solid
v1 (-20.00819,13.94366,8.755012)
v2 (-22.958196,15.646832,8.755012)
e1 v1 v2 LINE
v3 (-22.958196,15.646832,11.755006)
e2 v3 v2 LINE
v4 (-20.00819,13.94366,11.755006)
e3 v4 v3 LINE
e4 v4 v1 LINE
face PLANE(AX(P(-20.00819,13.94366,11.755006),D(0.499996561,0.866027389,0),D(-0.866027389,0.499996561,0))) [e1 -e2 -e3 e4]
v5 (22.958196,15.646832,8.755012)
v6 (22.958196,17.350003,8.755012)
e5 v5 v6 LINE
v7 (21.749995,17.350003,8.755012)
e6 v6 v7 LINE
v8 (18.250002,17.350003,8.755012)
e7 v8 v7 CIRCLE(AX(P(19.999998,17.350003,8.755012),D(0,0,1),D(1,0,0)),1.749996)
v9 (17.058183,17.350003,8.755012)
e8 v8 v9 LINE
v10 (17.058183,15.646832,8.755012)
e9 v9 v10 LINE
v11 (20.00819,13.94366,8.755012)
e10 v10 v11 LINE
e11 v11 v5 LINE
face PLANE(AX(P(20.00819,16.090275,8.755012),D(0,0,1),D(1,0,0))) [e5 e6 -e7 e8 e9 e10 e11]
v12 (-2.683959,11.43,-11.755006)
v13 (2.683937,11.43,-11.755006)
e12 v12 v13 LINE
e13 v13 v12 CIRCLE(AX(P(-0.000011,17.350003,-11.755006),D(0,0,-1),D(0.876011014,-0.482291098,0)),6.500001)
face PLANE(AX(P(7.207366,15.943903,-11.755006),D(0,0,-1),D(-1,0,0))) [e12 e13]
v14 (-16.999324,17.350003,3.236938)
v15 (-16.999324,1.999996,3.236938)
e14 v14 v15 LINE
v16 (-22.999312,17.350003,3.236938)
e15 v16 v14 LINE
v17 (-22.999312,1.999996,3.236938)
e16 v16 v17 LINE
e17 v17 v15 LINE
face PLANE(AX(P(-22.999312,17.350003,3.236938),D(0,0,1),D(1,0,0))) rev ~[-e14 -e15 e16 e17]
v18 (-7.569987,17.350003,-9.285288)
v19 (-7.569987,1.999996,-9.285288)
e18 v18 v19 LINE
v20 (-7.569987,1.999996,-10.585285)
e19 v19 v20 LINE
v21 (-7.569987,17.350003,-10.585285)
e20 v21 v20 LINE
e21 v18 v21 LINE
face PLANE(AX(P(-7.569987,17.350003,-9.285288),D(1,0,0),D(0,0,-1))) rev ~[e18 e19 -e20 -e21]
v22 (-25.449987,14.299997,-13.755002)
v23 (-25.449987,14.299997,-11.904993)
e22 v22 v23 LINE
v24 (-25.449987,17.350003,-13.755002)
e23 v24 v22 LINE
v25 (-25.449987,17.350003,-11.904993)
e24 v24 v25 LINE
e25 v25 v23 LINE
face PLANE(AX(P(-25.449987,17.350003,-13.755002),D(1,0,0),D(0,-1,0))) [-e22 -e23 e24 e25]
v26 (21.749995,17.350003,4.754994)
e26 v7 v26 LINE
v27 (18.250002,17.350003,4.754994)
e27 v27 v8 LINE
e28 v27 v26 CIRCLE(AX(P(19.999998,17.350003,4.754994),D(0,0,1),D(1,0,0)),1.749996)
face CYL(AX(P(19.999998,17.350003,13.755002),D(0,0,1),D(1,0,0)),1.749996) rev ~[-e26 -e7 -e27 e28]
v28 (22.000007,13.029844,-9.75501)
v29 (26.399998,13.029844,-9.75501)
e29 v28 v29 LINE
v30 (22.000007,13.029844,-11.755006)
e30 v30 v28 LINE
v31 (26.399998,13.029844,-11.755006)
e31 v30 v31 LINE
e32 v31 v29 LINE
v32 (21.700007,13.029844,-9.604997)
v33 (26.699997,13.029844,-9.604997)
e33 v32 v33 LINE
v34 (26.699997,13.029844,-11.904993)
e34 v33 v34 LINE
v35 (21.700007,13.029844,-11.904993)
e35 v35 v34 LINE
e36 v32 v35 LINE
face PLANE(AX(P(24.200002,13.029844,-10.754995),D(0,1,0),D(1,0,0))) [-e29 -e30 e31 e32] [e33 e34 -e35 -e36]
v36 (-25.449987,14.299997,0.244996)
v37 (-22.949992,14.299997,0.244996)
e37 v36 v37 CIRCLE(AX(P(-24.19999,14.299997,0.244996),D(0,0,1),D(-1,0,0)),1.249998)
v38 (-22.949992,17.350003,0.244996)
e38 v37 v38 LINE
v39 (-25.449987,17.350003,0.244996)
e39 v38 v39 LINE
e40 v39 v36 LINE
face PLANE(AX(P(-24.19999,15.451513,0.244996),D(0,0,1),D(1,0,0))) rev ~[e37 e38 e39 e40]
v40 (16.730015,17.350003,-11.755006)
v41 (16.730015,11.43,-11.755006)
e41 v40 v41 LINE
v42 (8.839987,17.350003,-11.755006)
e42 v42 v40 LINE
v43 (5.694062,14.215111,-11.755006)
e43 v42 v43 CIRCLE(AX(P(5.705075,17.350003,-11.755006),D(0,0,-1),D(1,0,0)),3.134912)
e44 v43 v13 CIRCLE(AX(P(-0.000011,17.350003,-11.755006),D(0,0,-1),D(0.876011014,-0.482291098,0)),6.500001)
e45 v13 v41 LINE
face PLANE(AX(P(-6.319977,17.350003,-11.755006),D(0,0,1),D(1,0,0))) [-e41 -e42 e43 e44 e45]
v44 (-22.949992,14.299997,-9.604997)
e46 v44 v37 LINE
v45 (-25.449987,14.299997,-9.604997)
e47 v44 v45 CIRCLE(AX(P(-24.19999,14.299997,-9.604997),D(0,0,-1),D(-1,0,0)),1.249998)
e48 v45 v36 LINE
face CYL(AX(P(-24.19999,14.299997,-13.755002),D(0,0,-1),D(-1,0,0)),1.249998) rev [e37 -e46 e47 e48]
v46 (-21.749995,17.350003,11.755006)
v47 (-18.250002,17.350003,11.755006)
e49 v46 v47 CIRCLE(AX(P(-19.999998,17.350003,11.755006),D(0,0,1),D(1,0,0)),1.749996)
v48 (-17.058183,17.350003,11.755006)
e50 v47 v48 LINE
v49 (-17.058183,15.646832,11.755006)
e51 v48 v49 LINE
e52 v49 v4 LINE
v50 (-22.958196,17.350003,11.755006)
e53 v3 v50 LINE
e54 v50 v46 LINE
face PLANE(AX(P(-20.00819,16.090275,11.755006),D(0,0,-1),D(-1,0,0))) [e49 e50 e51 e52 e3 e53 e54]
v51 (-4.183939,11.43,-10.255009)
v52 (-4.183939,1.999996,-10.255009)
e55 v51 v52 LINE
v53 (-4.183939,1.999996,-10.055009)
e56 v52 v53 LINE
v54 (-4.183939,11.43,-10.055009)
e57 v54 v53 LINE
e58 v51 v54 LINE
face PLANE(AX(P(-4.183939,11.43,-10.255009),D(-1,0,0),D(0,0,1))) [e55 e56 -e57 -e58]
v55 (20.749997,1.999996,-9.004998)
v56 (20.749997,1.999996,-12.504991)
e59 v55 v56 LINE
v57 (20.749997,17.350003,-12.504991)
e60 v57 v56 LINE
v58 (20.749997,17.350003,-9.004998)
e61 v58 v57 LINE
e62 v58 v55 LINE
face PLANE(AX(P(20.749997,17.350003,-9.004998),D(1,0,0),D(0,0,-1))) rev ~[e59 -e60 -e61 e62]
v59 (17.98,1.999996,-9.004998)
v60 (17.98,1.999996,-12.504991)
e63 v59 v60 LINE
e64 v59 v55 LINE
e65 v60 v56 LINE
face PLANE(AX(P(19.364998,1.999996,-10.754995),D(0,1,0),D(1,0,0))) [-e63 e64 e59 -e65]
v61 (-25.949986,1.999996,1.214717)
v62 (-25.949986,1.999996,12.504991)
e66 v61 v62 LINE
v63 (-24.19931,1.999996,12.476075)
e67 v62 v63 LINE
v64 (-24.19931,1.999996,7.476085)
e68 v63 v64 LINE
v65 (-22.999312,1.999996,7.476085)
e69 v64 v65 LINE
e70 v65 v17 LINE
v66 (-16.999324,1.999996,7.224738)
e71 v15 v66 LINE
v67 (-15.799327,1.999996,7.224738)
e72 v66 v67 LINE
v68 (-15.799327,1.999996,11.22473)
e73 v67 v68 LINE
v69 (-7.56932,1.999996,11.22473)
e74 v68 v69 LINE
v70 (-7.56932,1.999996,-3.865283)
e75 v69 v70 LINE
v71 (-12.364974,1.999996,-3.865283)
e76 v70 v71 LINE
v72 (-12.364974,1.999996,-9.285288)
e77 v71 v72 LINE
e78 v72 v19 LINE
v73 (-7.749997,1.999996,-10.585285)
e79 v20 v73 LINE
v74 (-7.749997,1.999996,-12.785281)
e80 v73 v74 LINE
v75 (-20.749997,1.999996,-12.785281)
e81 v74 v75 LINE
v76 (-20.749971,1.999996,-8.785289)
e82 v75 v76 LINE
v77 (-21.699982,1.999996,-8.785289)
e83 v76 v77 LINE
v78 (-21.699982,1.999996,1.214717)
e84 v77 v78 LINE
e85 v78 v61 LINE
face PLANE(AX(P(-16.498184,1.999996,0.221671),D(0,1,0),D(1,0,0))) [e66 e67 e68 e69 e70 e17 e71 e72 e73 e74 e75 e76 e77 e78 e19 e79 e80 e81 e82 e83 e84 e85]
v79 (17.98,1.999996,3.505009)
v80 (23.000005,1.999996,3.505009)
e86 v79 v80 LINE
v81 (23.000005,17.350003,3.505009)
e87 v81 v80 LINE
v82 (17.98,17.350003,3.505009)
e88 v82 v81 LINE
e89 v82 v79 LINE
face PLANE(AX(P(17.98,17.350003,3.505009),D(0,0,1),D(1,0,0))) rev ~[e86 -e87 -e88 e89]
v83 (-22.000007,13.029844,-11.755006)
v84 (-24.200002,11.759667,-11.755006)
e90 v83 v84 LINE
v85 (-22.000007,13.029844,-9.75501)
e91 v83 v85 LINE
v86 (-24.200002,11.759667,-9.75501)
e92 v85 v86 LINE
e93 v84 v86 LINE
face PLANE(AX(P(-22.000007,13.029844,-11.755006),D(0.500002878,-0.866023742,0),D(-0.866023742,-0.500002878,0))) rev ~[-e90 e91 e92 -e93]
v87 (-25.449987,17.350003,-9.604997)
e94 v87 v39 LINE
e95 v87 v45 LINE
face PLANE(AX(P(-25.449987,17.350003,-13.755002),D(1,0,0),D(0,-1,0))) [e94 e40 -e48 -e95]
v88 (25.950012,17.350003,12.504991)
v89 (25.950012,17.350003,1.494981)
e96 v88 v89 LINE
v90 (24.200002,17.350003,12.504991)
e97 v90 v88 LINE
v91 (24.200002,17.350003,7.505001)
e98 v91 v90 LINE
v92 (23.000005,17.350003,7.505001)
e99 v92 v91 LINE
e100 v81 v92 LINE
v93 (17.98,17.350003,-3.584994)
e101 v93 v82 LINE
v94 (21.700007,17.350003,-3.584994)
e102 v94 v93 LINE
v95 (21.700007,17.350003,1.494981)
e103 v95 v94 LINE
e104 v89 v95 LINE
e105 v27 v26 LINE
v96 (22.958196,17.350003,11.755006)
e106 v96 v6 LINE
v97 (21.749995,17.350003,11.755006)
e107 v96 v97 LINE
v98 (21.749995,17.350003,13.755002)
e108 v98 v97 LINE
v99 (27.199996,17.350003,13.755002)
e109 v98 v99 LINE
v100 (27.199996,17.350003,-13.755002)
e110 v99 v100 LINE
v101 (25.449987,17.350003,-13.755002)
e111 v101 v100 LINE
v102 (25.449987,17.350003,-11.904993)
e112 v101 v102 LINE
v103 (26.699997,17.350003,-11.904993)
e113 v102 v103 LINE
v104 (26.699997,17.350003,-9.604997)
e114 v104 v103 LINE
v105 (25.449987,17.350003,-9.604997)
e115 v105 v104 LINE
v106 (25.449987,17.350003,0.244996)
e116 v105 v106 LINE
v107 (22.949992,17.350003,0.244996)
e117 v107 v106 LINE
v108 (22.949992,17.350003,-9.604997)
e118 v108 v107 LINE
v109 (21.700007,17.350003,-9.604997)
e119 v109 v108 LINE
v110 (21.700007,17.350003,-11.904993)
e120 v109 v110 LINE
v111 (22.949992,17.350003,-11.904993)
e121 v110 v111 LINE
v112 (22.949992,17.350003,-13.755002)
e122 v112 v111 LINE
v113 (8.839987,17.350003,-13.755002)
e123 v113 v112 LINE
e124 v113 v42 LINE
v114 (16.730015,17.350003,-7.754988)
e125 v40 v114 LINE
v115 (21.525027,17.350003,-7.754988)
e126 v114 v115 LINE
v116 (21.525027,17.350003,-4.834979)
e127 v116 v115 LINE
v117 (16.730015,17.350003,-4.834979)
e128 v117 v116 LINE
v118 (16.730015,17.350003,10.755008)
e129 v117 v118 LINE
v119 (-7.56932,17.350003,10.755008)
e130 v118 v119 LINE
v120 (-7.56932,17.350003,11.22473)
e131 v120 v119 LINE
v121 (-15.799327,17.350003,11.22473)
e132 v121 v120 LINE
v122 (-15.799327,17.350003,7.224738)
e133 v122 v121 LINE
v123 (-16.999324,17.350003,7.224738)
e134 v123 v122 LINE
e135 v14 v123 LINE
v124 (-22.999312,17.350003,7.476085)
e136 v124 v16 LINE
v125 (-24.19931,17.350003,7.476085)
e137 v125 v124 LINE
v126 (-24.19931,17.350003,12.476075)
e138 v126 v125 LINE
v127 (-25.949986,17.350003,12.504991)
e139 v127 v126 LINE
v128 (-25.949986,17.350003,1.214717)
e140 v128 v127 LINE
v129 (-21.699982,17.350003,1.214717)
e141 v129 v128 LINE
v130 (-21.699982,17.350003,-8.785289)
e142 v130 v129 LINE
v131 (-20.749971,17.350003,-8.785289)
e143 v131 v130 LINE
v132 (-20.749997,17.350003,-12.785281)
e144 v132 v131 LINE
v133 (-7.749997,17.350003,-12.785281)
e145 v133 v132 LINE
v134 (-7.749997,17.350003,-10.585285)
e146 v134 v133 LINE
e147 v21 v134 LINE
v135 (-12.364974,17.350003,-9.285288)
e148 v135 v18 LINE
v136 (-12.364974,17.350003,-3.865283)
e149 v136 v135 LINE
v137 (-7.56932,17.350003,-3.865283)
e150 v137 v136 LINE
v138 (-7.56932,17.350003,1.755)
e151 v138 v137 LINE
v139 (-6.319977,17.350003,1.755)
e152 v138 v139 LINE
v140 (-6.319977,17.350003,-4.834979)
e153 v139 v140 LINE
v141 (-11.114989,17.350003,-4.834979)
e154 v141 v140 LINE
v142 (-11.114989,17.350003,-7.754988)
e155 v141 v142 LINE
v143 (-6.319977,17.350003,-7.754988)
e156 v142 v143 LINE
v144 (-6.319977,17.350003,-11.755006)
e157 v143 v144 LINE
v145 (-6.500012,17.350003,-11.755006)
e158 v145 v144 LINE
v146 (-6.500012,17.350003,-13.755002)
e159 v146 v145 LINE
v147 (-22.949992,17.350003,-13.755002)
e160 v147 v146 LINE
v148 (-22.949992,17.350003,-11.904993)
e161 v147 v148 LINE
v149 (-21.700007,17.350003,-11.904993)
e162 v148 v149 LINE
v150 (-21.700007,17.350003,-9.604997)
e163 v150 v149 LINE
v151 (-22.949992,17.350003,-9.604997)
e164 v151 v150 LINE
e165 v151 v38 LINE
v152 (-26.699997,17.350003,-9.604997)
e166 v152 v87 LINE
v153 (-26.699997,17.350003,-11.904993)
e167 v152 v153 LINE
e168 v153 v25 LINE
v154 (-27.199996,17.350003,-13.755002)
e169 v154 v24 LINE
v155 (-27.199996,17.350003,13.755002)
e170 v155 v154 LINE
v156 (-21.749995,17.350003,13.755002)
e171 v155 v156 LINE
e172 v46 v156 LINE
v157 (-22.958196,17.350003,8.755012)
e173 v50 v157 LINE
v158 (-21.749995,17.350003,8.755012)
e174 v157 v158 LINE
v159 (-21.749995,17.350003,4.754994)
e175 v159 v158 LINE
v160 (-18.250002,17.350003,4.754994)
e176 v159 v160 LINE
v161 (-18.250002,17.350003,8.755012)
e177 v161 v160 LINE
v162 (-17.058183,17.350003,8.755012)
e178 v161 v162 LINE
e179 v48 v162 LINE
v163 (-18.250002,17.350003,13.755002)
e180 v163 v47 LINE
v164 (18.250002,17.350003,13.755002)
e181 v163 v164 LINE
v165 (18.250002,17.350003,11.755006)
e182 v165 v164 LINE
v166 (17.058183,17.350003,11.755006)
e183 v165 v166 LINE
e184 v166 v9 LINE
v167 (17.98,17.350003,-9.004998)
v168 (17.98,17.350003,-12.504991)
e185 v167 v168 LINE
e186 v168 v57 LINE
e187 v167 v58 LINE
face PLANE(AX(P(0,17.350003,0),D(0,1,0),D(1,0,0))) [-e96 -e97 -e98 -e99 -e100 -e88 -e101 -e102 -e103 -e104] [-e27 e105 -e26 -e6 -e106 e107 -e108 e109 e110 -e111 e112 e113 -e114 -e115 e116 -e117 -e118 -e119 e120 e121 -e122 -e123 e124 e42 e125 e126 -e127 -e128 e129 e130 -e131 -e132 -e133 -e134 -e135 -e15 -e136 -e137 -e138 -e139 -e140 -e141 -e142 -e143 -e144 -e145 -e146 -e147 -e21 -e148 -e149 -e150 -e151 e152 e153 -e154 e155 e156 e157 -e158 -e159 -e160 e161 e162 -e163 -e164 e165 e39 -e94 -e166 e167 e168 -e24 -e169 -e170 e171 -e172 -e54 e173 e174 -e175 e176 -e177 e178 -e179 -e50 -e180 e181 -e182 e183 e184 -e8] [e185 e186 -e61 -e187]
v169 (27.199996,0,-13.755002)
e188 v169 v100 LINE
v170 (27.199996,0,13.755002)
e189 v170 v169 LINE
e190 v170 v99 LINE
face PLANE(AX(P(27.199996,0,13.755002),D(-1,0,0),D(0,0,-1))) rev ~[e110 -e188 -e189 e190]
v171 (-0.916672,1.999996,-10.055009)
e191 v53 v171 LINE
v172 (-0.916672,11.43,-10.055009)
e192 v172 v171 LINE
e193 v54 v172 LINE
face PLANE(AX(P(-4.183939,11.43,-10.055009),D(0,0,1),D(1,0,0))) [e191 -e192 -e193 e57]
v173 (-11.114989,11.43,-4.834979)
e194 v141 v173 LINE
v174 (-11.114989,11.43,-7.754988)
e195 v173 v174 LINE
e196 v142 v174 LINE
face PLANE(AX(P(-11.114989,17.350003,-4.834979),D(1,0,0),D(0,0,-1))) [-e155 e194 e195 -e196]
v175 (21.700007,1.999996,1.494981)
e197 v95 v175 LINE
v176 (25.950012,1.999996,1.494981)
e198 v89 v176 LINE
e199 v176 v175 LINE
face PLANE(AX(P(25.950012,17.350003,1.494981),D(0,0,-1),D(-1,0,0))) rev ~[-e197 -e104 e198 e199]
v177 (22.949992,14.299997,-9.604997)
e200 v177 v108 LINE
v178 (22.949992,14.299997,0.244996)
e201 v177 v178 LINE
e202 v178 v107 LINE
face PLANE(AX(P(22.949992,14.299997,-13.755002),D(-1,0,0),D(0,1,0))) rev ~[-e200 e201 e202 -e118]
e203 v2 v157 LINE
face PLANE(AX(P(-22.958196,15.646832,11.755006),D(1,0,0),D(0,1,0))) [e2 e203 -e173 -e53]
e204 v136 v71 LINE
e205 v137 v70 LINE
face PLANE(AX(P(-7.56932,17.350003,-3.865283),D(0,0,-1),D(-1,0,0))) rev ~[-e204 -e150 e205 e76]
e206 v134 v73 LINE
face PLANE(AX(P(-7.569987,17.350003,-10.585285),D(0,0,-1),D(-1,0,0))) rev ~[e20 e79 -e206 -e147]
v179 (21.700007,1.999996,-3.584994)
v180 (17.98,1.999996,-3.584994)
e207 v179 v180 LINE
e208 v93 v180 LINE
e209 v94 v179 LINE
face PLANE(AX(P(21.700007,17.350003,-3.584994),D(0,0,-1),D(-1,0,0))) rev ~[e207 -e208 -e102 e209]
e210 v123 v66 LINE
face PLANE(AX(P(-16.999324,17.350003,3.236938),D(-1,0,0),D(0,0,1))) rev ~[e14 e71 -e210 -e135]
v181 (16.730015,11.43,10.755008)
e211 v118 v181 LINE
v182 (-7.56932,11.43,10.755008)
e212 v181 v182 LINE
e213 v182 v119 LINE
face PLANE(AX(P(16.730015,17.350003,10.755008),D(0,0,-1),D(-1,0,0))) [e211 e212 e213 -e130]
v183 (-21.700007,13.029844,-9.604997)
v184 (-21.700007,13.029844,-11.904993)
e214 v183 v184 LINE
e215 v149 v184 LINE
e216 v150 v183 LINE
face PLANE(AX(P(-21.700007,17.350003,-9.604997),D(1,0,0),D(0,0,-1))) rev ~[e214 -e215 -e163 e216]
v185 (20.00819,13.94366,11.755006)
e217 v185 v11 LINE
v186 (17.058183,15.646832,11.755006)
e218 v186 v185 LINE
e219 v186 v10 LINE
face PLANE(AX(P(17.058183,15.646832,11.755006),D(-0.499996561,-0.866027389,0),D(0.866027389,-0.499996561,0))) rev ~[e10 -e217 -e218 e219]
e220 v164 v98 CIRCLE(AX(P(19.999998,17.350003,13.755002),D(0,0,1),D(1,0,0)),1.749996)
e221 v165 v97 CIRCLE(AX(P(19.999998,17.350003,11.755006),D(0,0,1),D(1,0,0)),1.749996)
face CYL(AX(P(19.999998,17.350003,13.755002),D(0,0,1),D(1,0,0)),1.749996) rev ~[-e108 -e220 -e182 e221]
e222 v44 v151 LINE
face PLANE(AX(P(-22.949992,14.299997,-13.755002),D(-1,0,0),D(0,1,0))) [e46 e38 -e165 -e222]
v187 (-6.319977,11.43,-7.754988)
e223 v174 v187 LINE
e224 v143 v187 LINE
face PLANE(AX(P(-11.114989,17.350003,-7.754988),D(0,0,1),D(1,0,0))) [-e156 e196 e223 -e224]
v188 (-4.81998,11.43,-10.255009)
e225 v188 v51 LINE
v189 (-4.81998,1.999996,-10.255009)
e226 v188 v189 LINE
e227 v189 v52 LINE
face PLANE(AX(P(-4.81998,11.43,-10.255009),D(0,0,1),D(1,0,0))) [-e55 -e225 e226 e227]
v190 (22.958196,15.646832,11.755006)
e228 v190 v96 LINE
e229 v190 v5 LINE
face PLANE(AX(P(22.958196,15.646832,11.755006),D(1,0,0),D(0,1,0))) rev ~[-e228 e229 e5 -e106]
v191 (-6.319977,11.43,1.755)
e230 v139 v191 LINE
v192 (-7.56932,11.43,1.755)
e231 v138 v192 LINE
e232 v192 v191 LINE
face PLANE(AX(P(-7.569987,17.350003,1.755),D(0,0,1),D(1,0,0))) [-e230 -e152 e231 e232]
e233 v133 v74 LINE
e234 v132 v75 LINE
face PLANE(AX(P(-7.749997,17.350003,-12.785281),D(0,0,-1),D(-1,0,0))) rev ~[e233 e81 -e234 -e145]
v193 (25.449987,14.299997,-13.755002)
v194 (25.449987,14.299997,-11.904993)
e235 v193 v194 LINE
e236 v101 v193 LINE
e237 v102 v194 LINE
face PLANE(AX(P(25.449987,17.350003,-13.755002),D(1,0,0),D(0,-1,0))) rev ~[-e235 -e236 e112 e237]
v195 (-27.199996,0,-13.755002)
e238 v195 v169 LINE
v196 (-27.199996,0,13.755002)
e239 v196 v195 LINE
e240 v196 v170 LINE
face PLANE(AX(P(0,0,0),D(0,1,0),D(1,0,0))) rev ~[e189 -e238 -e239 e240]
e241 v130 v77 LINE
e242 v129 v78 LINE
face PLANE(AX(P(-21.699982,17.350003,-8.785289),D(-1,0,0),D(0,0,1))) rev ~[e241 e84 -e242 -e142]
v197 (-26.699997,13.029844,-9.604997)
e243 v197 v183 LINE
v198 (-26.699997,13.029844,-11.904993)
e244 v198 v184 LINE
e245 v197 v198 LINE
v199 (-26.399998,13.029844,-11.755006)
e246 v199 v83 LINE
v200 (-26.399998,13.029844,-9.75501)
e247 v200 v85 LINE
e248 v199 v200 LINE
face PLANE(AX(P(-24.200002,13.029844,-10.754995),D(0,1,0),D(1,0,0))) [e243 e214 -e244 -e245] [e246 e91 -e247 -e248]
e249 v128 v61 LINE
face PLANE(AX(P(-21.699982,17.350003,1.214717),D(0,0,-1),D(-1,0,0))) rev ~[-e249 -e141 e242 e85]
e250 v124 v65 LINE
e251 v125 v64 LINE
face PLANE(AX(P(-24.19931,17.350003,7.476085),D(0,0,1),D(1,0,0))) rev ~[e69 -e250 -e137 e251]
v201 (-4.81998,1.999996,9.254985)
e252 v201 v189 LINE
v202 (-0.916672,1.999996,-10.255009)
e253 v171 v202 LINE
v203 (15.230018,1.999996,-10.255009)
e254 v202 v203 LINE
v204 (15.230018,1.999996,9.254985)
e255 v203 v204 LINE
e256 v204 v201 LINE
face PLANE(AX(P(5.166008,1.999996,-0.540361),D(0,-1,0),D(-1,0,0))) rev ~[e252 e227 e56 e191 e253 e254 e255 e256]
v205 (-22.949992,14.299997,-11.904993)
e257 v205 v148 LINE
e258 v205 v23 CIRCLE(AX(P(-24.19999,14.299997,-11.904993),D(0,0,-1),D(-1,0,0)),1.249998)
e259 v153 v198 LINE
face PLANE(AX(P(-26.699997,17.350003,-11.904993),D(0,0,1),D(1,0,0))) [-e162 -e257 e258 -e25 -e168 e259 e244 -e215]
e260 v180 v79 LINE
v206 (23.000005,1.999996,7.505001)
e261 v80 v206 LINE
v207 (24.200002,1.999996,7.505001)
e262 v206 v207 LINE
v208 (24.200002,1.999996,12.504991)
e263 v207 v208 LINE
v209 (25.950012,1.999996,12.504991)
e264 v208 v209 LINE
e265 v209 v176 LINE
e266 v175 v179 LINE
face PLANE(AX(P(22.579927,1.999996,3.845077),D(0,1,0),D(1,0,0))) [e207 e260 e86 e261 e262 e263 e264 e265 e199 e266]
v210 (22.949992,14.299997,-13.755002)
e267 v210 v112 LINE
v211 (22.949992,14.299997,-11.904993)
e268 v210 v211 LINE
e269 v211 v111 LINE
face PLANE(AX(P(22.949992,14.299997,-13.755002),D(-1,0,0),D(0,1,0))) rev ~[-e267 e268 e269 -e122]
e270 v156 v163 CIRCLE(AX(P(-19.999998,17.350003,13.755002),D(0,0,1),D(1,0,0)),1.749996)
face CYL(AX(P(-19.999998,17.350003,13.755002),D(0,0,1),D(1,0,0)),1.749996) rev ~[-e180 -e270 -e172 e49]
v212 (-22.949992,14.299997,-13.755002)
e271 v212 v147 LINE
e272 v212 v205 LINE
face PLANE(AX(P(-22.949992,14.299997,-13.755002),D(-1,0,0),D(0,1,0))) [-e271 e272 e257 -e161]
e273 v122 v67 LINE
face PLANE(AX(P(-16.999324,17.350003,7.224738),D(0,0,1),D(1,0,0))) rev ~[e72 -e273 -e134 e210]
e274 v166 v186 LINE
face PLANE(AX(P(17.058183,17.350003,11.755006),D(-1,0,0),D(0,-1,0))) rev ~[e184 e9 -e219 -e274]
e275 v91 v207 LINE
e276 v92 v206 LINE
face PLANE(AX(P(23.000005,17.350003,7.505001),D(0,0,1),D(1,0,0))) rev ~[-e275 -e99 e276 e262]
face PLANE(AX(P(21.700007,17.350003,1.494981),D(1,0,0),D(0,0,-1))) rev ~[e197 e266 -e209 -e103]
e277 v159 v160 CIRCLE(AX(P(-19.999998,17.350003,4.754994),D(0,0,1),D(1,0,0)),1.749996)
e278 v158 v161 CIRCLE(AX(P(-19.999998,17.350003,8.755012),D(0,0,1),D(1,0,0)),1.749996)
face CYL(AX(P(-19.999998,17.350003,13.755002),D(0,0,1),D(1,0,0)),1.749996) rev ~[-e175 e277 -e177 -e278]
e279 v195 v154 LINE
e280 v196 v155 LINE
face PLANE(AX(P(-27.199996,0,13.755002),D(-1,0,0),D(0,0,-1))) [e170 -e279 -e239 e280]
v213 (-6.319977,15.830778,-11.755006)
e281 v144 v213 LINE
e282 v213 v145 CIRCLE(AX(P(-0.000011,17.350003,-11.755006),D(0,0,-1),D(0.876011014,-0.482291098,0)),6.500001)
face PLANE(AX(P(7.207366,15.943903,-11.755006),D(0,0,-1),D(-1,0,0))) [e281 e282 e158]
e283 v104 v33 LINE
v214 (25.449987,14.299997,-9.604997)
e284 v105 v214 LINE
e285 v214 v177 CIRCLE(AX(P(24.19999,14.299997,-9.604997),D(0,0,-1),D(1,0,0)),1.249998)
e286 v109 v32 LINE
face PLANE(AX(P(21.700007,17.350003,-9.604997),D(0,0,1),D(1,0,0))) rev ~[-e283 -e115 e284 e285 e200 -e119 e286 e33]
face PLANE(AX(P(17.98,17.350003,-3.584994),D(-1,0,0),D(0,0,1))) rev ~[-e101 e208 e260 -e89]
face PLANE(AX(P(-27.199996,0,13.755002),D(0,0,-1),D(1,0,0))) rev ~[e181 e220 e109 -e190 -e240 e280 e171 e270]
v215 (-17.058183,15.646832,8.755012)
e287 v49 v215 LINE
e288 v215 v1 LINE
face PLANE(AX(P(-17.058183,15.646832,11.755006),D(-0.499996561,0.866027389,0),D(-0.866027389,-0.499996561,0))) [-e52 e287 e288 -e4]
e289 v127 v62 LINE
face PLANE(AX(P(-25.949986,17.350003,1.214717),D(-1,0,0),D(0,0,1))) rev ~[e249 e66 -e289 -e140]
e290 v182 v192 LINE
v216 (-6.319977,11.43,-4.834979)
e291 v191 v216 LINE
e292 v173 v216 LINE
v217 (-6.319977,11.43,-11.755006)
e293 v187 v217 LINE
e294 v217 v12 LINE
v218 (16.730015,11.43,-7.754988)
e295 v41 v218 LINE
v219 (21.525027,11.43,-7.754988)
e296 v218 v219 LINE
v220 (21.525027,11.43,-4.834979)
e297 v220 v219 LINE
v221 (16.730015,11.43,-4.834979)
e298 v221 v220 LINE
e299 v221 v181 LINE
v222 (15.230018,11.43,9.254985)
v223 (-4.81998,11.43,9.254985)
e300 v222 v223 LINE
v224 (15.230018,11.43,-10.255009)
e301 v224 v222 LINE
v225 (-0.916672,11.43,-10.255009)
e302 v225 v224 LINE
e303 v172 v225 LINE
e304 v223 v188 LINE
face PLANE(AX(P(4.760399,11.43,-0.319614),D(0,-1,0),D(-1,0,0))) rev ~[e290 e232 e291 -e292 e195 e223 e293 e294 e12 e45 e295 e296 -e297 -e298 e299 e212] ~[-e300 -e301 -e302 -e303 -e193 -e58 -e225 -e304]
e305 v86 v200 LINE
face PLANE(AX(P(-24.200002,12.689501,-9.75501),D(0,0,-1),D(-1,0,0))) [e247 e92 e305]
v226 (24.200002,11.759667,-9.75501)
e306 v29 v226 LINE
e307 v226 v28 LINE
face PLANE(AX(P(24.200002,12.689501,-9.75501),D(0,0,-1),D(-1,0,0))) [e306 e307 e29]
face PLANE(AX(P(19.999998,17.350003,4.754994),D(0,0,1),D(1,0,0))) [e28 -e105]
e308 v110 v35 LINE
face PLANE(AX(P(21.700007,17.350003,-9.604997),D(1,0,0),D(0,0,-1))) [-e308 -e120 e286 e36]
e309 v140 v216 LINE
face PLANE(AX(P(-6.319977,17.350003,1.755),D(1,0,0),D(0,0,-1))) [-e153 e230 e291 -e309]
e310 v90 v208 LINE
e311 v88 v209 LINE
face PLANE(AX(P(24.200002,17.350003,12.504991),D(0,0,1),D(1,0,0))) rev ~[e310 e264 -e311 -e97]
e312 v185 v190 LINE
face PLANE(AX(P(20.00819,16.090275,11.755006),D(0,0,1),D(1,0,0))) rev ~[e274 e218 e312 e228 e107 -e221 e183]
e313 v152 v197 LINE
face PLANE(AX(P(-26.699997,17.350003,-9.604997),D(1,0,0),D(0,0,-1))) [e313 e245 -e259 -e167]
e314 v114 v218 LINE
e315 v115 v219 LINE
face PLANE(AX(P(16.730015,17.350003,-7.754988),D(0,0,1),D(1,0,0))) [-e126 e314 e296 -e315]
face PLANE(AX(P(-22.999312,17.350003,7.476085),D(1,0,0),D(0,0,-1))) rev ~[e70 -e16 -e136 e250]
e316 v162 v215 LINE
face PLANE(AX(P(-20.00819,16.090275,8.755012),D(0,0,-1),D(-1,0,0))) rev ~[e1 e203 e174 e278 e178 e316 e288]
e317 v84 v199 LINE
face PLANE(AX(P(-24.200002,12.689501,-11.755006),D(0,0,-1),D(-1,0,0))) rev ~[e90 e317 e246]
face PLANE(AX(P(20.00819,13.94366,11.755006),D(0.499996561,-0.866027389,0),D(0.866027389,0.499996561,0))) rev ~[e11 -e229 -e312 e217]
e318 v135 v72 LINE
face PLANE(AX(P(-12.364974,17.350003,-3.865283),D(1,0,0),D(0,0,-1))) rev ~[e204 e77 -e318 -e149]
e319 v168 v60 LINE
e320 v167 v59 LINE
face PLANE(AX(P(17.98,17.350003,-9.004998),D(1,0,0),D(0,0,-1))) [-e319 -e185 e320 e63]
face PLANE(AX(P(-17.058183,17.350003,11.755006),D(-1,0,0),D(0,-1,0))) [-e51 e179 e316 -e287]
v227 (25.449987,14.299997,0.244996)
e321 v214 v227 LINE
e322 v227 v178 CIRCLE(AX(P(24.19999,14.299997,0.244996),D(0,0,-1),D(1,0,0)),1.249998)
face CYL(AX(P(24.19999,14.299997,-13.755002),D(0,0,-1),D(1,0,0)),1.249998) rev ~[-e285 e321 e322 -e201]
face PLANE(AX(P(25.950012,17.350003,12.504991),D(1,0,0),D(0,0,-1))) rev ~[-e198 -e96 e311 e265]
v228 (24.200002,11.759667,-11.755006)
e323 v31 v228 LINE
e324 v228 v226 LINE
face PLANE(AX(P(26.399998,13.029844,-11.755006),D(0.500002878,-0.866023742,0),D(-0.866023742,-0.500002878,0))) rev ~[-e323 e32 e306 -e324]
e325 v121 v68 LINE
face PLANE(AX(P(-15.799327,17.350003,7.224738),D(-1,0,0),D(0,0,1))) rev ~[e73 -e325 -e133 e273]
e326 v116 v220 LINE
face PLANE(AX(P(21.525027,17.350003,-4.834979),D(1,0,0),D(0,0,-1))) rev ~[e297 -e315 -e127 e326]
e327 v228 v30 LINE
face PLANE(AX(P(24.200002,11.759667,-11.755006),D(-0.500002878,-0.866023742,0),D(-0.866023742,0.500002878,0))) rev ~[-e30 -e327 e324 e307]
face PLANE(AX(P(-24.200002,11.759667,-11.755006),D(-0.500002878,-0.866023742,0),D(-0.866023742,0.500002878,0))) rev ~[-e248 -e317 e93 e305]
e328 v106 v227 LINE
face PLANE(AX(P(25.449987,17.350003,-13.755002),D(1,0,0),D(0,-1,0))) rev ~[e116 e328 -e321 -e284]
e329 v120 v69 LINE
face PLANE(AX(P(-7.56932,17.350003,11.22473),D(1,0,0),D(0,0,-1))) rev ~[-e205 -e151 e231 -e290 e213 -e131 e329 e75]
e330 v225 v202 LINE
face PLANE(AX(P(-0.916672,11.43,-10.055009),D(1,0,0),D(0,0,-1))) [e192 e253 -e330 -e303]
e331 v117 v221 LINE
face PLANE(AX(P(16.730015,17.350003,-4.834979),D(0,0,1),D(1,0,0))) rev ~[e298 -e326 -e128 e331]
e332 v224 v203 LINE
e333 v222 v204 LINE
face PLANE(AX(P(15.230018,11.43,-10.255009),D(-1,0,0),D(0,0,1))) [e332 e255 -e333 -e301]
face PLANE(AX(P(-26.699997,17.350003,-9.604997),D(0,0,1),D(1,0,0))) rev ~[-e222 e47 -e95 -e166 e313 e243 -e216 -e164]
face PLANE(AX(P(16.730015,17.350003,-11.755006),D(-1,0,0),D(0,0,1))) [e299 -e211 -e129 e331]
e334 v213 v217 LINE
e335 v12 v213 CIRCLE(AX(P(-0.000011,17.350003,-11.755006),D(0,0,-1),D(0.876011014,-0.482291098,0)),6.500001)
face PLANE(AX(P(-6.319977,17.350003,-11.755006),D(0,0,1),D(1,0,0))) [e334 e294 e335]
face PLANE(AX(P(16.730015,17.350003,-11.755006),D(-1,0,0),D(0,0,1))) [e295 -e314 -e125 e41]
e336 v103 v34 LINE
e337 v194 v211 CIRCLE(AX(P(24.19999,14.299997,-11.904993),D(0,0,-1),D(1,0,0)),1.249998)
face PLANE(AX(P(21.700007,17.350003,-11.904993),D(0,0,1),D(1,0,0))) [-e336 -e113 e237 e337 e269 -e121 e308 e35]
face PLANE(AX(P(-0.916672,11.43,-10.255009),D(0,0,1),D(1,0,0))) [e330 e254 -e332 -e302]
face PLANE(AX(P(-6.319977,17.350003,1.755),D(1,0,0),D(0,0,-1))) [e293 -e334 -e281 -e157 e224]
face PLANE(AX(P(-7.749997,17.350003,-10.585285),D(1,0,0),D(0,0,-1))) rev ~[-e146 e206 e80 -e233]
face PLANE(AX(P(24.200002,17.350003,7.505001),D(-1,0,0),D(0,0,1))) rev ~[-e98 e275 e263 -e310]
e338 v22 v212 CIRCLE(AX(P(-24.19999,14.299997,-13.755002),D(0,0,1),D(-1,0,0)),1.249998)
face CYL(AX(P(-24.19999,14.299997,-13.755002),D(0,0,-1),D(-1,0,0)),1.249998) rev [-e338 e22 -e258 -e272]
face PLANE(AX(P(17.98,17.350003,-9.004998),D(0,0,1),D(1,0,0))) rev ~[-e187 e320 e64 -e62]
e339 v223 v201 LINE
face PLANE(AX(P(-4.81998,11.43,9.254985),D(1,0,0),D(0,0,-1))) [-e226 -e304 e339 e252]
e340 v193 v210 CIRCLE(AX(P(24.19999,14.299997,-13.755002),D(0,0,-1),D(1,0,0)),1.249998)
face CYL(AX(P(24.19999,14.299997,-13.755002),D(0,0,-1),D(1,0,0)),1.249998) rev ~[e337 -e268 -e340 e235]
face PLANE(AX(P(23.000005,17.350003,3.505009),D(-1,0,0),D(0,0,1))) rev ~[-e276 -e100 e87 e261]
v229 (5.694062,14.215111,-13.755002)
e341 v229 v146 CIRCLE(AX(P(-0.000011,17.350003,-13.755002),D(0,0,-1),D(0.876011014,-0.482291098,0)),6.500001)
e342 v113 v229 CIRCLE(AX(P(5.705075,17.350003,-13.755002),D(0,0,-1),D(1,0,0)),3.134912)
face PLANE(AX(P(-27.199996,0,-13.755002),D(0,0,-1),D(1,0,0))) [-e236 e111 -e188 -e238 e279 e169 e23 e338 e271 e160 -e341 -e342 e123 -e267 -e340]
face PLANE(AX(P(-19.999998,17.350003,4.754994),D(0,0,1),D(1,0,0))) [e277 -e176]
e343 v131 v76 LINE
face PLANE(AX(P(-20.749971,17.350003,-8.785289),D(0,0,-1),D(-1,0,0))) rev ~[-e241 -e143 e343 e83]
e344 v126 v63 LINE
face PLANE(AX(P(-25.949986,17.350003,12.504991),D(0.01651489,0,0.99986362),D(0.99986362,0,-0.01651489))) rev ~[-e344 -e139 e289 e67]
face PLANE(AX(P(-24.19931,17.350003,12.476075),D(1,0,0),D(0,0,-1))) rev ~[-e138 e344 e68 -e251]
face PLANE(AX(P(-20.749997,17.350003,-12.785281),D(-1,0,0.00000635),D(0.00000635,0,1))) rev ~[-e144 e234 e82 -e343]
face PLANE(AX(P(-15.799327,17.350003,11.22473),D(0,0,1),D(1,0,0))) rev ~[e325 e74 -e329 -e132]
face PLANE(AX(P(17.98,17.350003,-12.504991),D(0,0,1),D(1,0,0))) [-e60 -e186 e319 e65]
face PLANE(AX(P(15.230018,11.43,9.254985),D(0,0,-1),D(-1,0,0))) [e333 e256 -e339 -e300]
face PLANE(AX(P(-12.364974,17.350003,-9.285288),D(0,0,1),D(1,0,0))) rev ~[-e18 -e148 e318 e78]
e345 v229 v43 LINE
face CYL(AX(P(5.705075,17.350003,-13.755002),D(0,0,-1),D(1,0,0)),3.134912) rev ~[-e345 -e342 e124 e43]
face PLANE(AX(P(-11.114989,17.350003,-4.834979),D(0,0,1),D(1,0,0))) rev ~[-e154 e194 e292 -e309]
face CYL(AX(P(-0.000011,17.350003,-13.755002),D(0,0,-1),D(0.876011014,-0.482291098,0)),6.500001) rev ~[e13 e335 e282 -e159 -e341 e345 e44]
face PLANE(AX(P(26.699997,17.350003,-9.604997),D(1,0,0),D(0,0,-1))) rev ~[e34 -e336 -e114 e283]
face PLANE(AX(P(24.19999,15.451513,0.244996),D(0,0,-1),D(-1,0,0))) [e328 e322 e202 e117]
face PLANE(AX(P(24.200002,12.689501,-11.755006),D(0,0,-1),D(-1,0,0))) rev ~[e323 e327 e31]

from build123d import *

# Parameters (mm, degrees)
SKETCH1_W           = 54.3999928
SKETCH1_H           = 27.5100034
BOSS_EXTRUDE1_DEPTH = 17.3500034
CUT_EXTRUDE1_DEPTH  = 15.3500074
CUT_EXTRUDE2_DEPTH  = 5.9200034
CUT_EXTRUDE3_DEPTH  = 9.430004
SKETCH5_W           = 4.795012
SKETCH5_H           = 2.9200094
CUT_EXTRUDE4_DEPTH  = 5.9200034
SKETCH6_W           = 2.769997
SKETCH6_H           = 3.499993
CUT_EXTRUDE5_DEPTH  = 15.3500074
CUT_EXTRUDE6_DEPTH  = 15.3500074
SKETCH8_R           = 1.7499965
CUT_EXTRUDE7_DEPTH  = 9.0000074
CUT_EXTRUDE8_DEPTH  = 13.9999974
SKETCH10_W          = 4.99999
SKETCH10_H          = 2.2999954
CUT_EXTRUDE9_DEPTH  = 4.320159
CUT_EXTRUDE10_DEPTH = 1.999996
CUT_EXTRUDE11_DEPTH = 2.999994
CUT_EXTRUDE12_DEPTH = 1.999996


with BuildPart() as part:
    # Sketch1 → Boss-Extrude1 (new body)
    with BuildSketch(Plane(origin=(0, 0, 0), x_dir=(1, 0, 0), z_dir=(0, 1, 0))):
        Rectangle(SKETCH1_W, SKETCH1_H)
    extrude(amount=BOSS_EXTRUDE1_DEPTH)

    # Sketch2 → Cut-Extrude1 (cut)
    with BuildSketch(Plane(origin=(0, 17.3500034, 0), x_dir=(1, 0, 0), z_dir=(0, 1, 0))):
        Polygon((-7.7499972, 12.7852805), (-20.7499966, 12.7852805), (-20.7499712, 8.7852885), (-21.699982, 8.7852885), (-21.699982, -1.2147169), (-25.9499862, -1.2147169), (-25.9499862, -12.5049915), (-24.199309728, -12.476075327), (-24.199309728, -7.476085327), (-22.999312128, -7.476085327), (-22.999312128, -3.2369379), (-16.999324128, -3.2369379), (-16.999324128, -7.2247379), (-15.799326528, -7.2247379), (-15.799326528, -11.2247299), (-7.569320128, -11.2247299), (-7.569320128, 3.8652831), (-12.364974, 3.8652831), (-12.364974, 9.2852875), (-7.5699874, 9.2852875), (-7.5699874, 10.5852849), (-7.7499972, 10.5852849), align=None)
    extrude(amount=-CUT_EXTRUDE1_DEPTH, mode=Mode.SUBTRACT)

    # Sketch3 → Cut-Extrude2 (cut)
    with BuildSketch(Plane(origin=(0, 17.3500034, 0), x_dir=(1, 0, 0), z_dir=(0, 1, 0))):
        Polygon((-7.5699874, -10.7550077), (-7.5699874, -1.7550003), (-6.3199772, -1.7550003), (-6.3199772, 11.7550057), (16.7300148, 11.7550057), (16.7300148, -10.7550077), align=None)
    extrude(amount=-CUT_EXTRUDE2_DEPTH, mode=Mode.SUBTRACT)

    # Sketch4 → Cut-Extrude3 (cut)
    with BuildSketch(Plane(origin=(0, 11.43, 0), x_dir=(1, 0, 0), z_dir=(0, 1, 0))):
        Polygon((15.2300178, 10.2550087), (15.2300178, -9.2549853), (-4.8199802, -9.2549853), (-4.8199802, 10.2550087), (-4.1839388, 10.2550087), (-4.1839388, 10.0550091), (-0.916671965, 10.0550091), (-0.916671965, 10.2550087), align=None)
    extrude(amount=-CUT_EXTRUDE3_DEPTH, mode=Mode.SUBTRACT)

    # Sketch5 → Cut-Extrude4 (cut)
    with BuildSketch(Plane(origin=(0, 17.3500034, 0), x_dir=(1, 0, 0), z_dir=(0, 1, 0))):
        with Locations((-8.7174832, 6.2949836)):
            Rectangle(SKETCH5_W, SKETCH5_H)
        with Locations((19.1275208, 6.2949836)):
            Rectangle(SKETCH5_W, SKETCH5_H)
    extrude(amount=-CUT_EXTRUDE4_DEPTH, mode=Mode.SUBTRACT)

    # Sketch6 → Cut-Extrude5 (cut)
    with BuildSketch(Plane(origin=(0, 17.3500034, 0), x_dir=(1, 0, 0), z_dir=(0, 1, 0))):
        with Locations((19.3649981, 10.754995)):
            Rectangle(SKETCH6_W, SKETCH6_H)
    extrude(amount=-CUT_EXTRUDE5_DEPTH, mode=Mode.SUBTRACT)

    # Sketch7 → Cut-Extrude6 (cut)
    with BuildSketch(Plane(origin=(0, 17.3500034, 0), x_dir=(1, 0, 0), z_dir=(0, 1, 0))):
        Polygon((21.7000074, 3.5849941), (17.9799996, 3.5849941), (17.9799996, -3.5050095), (23.0000048, -3.5050095), (23.0000048, -7.5050015), (24.2000024, -7.5050015), (24.2000024, -12.5049915), (25.9500116, -12.5049915), (25.9500116, -1.4949805), (21.7000074, -1.4949805), align=None)
    extrude(amount=-CUT_EXTRUDE6_DEPTH, mode=Mode.SUBTRACT)

    # Sketch8 → Cut-Extrude7 (cut)
    with BuildSketch(Plane.XY.offset(13.7550017)):
        with Locations((-19.9999981, 17.3500034)):
            Circle(SKETCH8_R)
        with Locations((19.9999981, 17.3500034)):
            Circle(SKETCH8_R)
    extrude(amount=-CUT_EXTRUDE7_DEPTH, mode=Mode.SUBTRACT)

    # Sketch9 → Cut-Extrude8 (cut)
    with BuildSketch(Plane(origin=(0, 0, -13.7550017), x_dir=(-1, 0, 0), z_dir=(0, 0, -1))):
        with BuildLine():
            Line((-25.4499872, 17.3500034), (-25.4499872, 14.2999968))
            ThreePointArc((-25.4499872, 14.2999968), (-24.1999897, 13.0499993), (-22.9499922, 14.2999968))
            Line((-22.9499922, 14.2999968), (-22.9499922, 17.3500034))
            Line((-22.9499922, 17.3500034), (-25.4499872, 17.3500034))
        make_face()
        with BuildLine():
            Line((22.9499922, 17.3500034), (25.4499872, 17.3500034))
            Line((25.4499872, 17.3500034), (25.4499872, 14.2999968))
            ThreePointArc((25.4499872, 14.2999968), (24.1999897, 13.0499993), (22.9499922, 14.2999968))
            Line((22.9499922, 14.2999968), (22.9499922, 17.3500034))
        make_face()
    extrude(amount=-CUT_EXTRUDE8_DEPTH, mode=Mode.SUBTRACT)

    # Sketch10 → Cut-Extrude9 (cut)
    with BuildSketch(Plane(origin=(0, 17.3500034, 0), x_dir=(1, 0, 0), z_dir=(0, 1, 0))):
        with Locations((-24.2000024, 10.754995)):
            Rectangle(SKETCH10_W, SKETCH10_H)
        with Locations((24.2000024, 10.754995)):
            Rectangle(SKETCH10_W, SKETCH10_H)
    extrude(amount=-CUT_EXTRUDE9_DEPTH, mode=Mode.SUBTRACT)

    # Sketch11 → Cut-Extrude10 (cut)
    with BuildSketch(Plane(origin=(0, 0, -11.7550057), x_dir=(-1, 0, 0), z_dir=(0, 0, -1))):
        Polygon((-26.399998, 13.0298444), (-24.2000024, 11.7596666), (-22.0000068, 13.0298444), align=None)
        Polygon((22.0000068, 13.0298444), (24.2000024, 11.7596666), (26.399998, 13.0298444), align=None)
    extrude(amount=-CUT_EXTRUDE10_DEPTH, mode=Mode.SUBTRACT)

    # Sketch13 → Cut-Extrude11 (cut)
    with BuildSketch(Plane.XY.offset(11.7550057)):
        Polygon((-22.9581964, 17.3500034), (-17.0581828, 17.3500034), (-17.0581828, 15.6468318), (-20.0081896, 13.9436602), (-22.9581964, 15.6468318), align=None)
        Polygon((17.0581828, 15.6468318), (20.0081896, 13.9436602), (22.9581964, 15.6468318), (22.9581964, 17.3500034), (17.0581828, 17.3500034), align=None)
    extrude(amount=-CUT_EXTRUDE11_DEPTH, mode=Mode.SUBTRACT)

    # Sketch14 → Cut-Extrude12 (cut)
    with BuildSketch(Plane(origin=(0, 0, -13.7550017), x_dir=(-1, 0, 0), z_dir=(0, 0, -1))):
        with BuildLine():
            Line((-6.499990556, 17.3500034), (-8.8399874, 17.3500034))
            ThreePointArc((-8.8399874, 17.3500034), (-7.917895682, 15.129395373), (-5.694061964, 14.215110549))
            ThreePointArc((-5.694061964, 14.215110549), (-6.295284996, 15.731587965), (-6.499990556, 17.3500034))
        make_face()
        with BuildLine():
            Line((-2.570163008, 17.3500034), (-6.499990556, 17.3500034))
            ThreePointArc((-6.499990556, 17.3500034), (-6.295284996, 15.731587965), (-5.694061964, 14.215110549))
            ThreePointArc((-5.694061964, 14.215110549), (-3.484467177, 15.137182922), (-2.570163008, 17.3500034))
        make_face()
        with BuildLine():
            ThreePointArc((-2.570163008, 17.3500034), (-3.484467177, 15.137182922), (-5.694061964, 14.215110549))
            ThreePointArc((-5.694061964, 14.215110549), (1.618426357, 11.054707482), (6.5000124, 17.3500034))
            Line((6.5000124, 17.3500034), (-2.570163008, 17.3500034))
        make_face()
    extrude(amount=-CUT_EXTRUDE12_DEPTH, mode=Mode.SUBTRACT)


solid = part.part
